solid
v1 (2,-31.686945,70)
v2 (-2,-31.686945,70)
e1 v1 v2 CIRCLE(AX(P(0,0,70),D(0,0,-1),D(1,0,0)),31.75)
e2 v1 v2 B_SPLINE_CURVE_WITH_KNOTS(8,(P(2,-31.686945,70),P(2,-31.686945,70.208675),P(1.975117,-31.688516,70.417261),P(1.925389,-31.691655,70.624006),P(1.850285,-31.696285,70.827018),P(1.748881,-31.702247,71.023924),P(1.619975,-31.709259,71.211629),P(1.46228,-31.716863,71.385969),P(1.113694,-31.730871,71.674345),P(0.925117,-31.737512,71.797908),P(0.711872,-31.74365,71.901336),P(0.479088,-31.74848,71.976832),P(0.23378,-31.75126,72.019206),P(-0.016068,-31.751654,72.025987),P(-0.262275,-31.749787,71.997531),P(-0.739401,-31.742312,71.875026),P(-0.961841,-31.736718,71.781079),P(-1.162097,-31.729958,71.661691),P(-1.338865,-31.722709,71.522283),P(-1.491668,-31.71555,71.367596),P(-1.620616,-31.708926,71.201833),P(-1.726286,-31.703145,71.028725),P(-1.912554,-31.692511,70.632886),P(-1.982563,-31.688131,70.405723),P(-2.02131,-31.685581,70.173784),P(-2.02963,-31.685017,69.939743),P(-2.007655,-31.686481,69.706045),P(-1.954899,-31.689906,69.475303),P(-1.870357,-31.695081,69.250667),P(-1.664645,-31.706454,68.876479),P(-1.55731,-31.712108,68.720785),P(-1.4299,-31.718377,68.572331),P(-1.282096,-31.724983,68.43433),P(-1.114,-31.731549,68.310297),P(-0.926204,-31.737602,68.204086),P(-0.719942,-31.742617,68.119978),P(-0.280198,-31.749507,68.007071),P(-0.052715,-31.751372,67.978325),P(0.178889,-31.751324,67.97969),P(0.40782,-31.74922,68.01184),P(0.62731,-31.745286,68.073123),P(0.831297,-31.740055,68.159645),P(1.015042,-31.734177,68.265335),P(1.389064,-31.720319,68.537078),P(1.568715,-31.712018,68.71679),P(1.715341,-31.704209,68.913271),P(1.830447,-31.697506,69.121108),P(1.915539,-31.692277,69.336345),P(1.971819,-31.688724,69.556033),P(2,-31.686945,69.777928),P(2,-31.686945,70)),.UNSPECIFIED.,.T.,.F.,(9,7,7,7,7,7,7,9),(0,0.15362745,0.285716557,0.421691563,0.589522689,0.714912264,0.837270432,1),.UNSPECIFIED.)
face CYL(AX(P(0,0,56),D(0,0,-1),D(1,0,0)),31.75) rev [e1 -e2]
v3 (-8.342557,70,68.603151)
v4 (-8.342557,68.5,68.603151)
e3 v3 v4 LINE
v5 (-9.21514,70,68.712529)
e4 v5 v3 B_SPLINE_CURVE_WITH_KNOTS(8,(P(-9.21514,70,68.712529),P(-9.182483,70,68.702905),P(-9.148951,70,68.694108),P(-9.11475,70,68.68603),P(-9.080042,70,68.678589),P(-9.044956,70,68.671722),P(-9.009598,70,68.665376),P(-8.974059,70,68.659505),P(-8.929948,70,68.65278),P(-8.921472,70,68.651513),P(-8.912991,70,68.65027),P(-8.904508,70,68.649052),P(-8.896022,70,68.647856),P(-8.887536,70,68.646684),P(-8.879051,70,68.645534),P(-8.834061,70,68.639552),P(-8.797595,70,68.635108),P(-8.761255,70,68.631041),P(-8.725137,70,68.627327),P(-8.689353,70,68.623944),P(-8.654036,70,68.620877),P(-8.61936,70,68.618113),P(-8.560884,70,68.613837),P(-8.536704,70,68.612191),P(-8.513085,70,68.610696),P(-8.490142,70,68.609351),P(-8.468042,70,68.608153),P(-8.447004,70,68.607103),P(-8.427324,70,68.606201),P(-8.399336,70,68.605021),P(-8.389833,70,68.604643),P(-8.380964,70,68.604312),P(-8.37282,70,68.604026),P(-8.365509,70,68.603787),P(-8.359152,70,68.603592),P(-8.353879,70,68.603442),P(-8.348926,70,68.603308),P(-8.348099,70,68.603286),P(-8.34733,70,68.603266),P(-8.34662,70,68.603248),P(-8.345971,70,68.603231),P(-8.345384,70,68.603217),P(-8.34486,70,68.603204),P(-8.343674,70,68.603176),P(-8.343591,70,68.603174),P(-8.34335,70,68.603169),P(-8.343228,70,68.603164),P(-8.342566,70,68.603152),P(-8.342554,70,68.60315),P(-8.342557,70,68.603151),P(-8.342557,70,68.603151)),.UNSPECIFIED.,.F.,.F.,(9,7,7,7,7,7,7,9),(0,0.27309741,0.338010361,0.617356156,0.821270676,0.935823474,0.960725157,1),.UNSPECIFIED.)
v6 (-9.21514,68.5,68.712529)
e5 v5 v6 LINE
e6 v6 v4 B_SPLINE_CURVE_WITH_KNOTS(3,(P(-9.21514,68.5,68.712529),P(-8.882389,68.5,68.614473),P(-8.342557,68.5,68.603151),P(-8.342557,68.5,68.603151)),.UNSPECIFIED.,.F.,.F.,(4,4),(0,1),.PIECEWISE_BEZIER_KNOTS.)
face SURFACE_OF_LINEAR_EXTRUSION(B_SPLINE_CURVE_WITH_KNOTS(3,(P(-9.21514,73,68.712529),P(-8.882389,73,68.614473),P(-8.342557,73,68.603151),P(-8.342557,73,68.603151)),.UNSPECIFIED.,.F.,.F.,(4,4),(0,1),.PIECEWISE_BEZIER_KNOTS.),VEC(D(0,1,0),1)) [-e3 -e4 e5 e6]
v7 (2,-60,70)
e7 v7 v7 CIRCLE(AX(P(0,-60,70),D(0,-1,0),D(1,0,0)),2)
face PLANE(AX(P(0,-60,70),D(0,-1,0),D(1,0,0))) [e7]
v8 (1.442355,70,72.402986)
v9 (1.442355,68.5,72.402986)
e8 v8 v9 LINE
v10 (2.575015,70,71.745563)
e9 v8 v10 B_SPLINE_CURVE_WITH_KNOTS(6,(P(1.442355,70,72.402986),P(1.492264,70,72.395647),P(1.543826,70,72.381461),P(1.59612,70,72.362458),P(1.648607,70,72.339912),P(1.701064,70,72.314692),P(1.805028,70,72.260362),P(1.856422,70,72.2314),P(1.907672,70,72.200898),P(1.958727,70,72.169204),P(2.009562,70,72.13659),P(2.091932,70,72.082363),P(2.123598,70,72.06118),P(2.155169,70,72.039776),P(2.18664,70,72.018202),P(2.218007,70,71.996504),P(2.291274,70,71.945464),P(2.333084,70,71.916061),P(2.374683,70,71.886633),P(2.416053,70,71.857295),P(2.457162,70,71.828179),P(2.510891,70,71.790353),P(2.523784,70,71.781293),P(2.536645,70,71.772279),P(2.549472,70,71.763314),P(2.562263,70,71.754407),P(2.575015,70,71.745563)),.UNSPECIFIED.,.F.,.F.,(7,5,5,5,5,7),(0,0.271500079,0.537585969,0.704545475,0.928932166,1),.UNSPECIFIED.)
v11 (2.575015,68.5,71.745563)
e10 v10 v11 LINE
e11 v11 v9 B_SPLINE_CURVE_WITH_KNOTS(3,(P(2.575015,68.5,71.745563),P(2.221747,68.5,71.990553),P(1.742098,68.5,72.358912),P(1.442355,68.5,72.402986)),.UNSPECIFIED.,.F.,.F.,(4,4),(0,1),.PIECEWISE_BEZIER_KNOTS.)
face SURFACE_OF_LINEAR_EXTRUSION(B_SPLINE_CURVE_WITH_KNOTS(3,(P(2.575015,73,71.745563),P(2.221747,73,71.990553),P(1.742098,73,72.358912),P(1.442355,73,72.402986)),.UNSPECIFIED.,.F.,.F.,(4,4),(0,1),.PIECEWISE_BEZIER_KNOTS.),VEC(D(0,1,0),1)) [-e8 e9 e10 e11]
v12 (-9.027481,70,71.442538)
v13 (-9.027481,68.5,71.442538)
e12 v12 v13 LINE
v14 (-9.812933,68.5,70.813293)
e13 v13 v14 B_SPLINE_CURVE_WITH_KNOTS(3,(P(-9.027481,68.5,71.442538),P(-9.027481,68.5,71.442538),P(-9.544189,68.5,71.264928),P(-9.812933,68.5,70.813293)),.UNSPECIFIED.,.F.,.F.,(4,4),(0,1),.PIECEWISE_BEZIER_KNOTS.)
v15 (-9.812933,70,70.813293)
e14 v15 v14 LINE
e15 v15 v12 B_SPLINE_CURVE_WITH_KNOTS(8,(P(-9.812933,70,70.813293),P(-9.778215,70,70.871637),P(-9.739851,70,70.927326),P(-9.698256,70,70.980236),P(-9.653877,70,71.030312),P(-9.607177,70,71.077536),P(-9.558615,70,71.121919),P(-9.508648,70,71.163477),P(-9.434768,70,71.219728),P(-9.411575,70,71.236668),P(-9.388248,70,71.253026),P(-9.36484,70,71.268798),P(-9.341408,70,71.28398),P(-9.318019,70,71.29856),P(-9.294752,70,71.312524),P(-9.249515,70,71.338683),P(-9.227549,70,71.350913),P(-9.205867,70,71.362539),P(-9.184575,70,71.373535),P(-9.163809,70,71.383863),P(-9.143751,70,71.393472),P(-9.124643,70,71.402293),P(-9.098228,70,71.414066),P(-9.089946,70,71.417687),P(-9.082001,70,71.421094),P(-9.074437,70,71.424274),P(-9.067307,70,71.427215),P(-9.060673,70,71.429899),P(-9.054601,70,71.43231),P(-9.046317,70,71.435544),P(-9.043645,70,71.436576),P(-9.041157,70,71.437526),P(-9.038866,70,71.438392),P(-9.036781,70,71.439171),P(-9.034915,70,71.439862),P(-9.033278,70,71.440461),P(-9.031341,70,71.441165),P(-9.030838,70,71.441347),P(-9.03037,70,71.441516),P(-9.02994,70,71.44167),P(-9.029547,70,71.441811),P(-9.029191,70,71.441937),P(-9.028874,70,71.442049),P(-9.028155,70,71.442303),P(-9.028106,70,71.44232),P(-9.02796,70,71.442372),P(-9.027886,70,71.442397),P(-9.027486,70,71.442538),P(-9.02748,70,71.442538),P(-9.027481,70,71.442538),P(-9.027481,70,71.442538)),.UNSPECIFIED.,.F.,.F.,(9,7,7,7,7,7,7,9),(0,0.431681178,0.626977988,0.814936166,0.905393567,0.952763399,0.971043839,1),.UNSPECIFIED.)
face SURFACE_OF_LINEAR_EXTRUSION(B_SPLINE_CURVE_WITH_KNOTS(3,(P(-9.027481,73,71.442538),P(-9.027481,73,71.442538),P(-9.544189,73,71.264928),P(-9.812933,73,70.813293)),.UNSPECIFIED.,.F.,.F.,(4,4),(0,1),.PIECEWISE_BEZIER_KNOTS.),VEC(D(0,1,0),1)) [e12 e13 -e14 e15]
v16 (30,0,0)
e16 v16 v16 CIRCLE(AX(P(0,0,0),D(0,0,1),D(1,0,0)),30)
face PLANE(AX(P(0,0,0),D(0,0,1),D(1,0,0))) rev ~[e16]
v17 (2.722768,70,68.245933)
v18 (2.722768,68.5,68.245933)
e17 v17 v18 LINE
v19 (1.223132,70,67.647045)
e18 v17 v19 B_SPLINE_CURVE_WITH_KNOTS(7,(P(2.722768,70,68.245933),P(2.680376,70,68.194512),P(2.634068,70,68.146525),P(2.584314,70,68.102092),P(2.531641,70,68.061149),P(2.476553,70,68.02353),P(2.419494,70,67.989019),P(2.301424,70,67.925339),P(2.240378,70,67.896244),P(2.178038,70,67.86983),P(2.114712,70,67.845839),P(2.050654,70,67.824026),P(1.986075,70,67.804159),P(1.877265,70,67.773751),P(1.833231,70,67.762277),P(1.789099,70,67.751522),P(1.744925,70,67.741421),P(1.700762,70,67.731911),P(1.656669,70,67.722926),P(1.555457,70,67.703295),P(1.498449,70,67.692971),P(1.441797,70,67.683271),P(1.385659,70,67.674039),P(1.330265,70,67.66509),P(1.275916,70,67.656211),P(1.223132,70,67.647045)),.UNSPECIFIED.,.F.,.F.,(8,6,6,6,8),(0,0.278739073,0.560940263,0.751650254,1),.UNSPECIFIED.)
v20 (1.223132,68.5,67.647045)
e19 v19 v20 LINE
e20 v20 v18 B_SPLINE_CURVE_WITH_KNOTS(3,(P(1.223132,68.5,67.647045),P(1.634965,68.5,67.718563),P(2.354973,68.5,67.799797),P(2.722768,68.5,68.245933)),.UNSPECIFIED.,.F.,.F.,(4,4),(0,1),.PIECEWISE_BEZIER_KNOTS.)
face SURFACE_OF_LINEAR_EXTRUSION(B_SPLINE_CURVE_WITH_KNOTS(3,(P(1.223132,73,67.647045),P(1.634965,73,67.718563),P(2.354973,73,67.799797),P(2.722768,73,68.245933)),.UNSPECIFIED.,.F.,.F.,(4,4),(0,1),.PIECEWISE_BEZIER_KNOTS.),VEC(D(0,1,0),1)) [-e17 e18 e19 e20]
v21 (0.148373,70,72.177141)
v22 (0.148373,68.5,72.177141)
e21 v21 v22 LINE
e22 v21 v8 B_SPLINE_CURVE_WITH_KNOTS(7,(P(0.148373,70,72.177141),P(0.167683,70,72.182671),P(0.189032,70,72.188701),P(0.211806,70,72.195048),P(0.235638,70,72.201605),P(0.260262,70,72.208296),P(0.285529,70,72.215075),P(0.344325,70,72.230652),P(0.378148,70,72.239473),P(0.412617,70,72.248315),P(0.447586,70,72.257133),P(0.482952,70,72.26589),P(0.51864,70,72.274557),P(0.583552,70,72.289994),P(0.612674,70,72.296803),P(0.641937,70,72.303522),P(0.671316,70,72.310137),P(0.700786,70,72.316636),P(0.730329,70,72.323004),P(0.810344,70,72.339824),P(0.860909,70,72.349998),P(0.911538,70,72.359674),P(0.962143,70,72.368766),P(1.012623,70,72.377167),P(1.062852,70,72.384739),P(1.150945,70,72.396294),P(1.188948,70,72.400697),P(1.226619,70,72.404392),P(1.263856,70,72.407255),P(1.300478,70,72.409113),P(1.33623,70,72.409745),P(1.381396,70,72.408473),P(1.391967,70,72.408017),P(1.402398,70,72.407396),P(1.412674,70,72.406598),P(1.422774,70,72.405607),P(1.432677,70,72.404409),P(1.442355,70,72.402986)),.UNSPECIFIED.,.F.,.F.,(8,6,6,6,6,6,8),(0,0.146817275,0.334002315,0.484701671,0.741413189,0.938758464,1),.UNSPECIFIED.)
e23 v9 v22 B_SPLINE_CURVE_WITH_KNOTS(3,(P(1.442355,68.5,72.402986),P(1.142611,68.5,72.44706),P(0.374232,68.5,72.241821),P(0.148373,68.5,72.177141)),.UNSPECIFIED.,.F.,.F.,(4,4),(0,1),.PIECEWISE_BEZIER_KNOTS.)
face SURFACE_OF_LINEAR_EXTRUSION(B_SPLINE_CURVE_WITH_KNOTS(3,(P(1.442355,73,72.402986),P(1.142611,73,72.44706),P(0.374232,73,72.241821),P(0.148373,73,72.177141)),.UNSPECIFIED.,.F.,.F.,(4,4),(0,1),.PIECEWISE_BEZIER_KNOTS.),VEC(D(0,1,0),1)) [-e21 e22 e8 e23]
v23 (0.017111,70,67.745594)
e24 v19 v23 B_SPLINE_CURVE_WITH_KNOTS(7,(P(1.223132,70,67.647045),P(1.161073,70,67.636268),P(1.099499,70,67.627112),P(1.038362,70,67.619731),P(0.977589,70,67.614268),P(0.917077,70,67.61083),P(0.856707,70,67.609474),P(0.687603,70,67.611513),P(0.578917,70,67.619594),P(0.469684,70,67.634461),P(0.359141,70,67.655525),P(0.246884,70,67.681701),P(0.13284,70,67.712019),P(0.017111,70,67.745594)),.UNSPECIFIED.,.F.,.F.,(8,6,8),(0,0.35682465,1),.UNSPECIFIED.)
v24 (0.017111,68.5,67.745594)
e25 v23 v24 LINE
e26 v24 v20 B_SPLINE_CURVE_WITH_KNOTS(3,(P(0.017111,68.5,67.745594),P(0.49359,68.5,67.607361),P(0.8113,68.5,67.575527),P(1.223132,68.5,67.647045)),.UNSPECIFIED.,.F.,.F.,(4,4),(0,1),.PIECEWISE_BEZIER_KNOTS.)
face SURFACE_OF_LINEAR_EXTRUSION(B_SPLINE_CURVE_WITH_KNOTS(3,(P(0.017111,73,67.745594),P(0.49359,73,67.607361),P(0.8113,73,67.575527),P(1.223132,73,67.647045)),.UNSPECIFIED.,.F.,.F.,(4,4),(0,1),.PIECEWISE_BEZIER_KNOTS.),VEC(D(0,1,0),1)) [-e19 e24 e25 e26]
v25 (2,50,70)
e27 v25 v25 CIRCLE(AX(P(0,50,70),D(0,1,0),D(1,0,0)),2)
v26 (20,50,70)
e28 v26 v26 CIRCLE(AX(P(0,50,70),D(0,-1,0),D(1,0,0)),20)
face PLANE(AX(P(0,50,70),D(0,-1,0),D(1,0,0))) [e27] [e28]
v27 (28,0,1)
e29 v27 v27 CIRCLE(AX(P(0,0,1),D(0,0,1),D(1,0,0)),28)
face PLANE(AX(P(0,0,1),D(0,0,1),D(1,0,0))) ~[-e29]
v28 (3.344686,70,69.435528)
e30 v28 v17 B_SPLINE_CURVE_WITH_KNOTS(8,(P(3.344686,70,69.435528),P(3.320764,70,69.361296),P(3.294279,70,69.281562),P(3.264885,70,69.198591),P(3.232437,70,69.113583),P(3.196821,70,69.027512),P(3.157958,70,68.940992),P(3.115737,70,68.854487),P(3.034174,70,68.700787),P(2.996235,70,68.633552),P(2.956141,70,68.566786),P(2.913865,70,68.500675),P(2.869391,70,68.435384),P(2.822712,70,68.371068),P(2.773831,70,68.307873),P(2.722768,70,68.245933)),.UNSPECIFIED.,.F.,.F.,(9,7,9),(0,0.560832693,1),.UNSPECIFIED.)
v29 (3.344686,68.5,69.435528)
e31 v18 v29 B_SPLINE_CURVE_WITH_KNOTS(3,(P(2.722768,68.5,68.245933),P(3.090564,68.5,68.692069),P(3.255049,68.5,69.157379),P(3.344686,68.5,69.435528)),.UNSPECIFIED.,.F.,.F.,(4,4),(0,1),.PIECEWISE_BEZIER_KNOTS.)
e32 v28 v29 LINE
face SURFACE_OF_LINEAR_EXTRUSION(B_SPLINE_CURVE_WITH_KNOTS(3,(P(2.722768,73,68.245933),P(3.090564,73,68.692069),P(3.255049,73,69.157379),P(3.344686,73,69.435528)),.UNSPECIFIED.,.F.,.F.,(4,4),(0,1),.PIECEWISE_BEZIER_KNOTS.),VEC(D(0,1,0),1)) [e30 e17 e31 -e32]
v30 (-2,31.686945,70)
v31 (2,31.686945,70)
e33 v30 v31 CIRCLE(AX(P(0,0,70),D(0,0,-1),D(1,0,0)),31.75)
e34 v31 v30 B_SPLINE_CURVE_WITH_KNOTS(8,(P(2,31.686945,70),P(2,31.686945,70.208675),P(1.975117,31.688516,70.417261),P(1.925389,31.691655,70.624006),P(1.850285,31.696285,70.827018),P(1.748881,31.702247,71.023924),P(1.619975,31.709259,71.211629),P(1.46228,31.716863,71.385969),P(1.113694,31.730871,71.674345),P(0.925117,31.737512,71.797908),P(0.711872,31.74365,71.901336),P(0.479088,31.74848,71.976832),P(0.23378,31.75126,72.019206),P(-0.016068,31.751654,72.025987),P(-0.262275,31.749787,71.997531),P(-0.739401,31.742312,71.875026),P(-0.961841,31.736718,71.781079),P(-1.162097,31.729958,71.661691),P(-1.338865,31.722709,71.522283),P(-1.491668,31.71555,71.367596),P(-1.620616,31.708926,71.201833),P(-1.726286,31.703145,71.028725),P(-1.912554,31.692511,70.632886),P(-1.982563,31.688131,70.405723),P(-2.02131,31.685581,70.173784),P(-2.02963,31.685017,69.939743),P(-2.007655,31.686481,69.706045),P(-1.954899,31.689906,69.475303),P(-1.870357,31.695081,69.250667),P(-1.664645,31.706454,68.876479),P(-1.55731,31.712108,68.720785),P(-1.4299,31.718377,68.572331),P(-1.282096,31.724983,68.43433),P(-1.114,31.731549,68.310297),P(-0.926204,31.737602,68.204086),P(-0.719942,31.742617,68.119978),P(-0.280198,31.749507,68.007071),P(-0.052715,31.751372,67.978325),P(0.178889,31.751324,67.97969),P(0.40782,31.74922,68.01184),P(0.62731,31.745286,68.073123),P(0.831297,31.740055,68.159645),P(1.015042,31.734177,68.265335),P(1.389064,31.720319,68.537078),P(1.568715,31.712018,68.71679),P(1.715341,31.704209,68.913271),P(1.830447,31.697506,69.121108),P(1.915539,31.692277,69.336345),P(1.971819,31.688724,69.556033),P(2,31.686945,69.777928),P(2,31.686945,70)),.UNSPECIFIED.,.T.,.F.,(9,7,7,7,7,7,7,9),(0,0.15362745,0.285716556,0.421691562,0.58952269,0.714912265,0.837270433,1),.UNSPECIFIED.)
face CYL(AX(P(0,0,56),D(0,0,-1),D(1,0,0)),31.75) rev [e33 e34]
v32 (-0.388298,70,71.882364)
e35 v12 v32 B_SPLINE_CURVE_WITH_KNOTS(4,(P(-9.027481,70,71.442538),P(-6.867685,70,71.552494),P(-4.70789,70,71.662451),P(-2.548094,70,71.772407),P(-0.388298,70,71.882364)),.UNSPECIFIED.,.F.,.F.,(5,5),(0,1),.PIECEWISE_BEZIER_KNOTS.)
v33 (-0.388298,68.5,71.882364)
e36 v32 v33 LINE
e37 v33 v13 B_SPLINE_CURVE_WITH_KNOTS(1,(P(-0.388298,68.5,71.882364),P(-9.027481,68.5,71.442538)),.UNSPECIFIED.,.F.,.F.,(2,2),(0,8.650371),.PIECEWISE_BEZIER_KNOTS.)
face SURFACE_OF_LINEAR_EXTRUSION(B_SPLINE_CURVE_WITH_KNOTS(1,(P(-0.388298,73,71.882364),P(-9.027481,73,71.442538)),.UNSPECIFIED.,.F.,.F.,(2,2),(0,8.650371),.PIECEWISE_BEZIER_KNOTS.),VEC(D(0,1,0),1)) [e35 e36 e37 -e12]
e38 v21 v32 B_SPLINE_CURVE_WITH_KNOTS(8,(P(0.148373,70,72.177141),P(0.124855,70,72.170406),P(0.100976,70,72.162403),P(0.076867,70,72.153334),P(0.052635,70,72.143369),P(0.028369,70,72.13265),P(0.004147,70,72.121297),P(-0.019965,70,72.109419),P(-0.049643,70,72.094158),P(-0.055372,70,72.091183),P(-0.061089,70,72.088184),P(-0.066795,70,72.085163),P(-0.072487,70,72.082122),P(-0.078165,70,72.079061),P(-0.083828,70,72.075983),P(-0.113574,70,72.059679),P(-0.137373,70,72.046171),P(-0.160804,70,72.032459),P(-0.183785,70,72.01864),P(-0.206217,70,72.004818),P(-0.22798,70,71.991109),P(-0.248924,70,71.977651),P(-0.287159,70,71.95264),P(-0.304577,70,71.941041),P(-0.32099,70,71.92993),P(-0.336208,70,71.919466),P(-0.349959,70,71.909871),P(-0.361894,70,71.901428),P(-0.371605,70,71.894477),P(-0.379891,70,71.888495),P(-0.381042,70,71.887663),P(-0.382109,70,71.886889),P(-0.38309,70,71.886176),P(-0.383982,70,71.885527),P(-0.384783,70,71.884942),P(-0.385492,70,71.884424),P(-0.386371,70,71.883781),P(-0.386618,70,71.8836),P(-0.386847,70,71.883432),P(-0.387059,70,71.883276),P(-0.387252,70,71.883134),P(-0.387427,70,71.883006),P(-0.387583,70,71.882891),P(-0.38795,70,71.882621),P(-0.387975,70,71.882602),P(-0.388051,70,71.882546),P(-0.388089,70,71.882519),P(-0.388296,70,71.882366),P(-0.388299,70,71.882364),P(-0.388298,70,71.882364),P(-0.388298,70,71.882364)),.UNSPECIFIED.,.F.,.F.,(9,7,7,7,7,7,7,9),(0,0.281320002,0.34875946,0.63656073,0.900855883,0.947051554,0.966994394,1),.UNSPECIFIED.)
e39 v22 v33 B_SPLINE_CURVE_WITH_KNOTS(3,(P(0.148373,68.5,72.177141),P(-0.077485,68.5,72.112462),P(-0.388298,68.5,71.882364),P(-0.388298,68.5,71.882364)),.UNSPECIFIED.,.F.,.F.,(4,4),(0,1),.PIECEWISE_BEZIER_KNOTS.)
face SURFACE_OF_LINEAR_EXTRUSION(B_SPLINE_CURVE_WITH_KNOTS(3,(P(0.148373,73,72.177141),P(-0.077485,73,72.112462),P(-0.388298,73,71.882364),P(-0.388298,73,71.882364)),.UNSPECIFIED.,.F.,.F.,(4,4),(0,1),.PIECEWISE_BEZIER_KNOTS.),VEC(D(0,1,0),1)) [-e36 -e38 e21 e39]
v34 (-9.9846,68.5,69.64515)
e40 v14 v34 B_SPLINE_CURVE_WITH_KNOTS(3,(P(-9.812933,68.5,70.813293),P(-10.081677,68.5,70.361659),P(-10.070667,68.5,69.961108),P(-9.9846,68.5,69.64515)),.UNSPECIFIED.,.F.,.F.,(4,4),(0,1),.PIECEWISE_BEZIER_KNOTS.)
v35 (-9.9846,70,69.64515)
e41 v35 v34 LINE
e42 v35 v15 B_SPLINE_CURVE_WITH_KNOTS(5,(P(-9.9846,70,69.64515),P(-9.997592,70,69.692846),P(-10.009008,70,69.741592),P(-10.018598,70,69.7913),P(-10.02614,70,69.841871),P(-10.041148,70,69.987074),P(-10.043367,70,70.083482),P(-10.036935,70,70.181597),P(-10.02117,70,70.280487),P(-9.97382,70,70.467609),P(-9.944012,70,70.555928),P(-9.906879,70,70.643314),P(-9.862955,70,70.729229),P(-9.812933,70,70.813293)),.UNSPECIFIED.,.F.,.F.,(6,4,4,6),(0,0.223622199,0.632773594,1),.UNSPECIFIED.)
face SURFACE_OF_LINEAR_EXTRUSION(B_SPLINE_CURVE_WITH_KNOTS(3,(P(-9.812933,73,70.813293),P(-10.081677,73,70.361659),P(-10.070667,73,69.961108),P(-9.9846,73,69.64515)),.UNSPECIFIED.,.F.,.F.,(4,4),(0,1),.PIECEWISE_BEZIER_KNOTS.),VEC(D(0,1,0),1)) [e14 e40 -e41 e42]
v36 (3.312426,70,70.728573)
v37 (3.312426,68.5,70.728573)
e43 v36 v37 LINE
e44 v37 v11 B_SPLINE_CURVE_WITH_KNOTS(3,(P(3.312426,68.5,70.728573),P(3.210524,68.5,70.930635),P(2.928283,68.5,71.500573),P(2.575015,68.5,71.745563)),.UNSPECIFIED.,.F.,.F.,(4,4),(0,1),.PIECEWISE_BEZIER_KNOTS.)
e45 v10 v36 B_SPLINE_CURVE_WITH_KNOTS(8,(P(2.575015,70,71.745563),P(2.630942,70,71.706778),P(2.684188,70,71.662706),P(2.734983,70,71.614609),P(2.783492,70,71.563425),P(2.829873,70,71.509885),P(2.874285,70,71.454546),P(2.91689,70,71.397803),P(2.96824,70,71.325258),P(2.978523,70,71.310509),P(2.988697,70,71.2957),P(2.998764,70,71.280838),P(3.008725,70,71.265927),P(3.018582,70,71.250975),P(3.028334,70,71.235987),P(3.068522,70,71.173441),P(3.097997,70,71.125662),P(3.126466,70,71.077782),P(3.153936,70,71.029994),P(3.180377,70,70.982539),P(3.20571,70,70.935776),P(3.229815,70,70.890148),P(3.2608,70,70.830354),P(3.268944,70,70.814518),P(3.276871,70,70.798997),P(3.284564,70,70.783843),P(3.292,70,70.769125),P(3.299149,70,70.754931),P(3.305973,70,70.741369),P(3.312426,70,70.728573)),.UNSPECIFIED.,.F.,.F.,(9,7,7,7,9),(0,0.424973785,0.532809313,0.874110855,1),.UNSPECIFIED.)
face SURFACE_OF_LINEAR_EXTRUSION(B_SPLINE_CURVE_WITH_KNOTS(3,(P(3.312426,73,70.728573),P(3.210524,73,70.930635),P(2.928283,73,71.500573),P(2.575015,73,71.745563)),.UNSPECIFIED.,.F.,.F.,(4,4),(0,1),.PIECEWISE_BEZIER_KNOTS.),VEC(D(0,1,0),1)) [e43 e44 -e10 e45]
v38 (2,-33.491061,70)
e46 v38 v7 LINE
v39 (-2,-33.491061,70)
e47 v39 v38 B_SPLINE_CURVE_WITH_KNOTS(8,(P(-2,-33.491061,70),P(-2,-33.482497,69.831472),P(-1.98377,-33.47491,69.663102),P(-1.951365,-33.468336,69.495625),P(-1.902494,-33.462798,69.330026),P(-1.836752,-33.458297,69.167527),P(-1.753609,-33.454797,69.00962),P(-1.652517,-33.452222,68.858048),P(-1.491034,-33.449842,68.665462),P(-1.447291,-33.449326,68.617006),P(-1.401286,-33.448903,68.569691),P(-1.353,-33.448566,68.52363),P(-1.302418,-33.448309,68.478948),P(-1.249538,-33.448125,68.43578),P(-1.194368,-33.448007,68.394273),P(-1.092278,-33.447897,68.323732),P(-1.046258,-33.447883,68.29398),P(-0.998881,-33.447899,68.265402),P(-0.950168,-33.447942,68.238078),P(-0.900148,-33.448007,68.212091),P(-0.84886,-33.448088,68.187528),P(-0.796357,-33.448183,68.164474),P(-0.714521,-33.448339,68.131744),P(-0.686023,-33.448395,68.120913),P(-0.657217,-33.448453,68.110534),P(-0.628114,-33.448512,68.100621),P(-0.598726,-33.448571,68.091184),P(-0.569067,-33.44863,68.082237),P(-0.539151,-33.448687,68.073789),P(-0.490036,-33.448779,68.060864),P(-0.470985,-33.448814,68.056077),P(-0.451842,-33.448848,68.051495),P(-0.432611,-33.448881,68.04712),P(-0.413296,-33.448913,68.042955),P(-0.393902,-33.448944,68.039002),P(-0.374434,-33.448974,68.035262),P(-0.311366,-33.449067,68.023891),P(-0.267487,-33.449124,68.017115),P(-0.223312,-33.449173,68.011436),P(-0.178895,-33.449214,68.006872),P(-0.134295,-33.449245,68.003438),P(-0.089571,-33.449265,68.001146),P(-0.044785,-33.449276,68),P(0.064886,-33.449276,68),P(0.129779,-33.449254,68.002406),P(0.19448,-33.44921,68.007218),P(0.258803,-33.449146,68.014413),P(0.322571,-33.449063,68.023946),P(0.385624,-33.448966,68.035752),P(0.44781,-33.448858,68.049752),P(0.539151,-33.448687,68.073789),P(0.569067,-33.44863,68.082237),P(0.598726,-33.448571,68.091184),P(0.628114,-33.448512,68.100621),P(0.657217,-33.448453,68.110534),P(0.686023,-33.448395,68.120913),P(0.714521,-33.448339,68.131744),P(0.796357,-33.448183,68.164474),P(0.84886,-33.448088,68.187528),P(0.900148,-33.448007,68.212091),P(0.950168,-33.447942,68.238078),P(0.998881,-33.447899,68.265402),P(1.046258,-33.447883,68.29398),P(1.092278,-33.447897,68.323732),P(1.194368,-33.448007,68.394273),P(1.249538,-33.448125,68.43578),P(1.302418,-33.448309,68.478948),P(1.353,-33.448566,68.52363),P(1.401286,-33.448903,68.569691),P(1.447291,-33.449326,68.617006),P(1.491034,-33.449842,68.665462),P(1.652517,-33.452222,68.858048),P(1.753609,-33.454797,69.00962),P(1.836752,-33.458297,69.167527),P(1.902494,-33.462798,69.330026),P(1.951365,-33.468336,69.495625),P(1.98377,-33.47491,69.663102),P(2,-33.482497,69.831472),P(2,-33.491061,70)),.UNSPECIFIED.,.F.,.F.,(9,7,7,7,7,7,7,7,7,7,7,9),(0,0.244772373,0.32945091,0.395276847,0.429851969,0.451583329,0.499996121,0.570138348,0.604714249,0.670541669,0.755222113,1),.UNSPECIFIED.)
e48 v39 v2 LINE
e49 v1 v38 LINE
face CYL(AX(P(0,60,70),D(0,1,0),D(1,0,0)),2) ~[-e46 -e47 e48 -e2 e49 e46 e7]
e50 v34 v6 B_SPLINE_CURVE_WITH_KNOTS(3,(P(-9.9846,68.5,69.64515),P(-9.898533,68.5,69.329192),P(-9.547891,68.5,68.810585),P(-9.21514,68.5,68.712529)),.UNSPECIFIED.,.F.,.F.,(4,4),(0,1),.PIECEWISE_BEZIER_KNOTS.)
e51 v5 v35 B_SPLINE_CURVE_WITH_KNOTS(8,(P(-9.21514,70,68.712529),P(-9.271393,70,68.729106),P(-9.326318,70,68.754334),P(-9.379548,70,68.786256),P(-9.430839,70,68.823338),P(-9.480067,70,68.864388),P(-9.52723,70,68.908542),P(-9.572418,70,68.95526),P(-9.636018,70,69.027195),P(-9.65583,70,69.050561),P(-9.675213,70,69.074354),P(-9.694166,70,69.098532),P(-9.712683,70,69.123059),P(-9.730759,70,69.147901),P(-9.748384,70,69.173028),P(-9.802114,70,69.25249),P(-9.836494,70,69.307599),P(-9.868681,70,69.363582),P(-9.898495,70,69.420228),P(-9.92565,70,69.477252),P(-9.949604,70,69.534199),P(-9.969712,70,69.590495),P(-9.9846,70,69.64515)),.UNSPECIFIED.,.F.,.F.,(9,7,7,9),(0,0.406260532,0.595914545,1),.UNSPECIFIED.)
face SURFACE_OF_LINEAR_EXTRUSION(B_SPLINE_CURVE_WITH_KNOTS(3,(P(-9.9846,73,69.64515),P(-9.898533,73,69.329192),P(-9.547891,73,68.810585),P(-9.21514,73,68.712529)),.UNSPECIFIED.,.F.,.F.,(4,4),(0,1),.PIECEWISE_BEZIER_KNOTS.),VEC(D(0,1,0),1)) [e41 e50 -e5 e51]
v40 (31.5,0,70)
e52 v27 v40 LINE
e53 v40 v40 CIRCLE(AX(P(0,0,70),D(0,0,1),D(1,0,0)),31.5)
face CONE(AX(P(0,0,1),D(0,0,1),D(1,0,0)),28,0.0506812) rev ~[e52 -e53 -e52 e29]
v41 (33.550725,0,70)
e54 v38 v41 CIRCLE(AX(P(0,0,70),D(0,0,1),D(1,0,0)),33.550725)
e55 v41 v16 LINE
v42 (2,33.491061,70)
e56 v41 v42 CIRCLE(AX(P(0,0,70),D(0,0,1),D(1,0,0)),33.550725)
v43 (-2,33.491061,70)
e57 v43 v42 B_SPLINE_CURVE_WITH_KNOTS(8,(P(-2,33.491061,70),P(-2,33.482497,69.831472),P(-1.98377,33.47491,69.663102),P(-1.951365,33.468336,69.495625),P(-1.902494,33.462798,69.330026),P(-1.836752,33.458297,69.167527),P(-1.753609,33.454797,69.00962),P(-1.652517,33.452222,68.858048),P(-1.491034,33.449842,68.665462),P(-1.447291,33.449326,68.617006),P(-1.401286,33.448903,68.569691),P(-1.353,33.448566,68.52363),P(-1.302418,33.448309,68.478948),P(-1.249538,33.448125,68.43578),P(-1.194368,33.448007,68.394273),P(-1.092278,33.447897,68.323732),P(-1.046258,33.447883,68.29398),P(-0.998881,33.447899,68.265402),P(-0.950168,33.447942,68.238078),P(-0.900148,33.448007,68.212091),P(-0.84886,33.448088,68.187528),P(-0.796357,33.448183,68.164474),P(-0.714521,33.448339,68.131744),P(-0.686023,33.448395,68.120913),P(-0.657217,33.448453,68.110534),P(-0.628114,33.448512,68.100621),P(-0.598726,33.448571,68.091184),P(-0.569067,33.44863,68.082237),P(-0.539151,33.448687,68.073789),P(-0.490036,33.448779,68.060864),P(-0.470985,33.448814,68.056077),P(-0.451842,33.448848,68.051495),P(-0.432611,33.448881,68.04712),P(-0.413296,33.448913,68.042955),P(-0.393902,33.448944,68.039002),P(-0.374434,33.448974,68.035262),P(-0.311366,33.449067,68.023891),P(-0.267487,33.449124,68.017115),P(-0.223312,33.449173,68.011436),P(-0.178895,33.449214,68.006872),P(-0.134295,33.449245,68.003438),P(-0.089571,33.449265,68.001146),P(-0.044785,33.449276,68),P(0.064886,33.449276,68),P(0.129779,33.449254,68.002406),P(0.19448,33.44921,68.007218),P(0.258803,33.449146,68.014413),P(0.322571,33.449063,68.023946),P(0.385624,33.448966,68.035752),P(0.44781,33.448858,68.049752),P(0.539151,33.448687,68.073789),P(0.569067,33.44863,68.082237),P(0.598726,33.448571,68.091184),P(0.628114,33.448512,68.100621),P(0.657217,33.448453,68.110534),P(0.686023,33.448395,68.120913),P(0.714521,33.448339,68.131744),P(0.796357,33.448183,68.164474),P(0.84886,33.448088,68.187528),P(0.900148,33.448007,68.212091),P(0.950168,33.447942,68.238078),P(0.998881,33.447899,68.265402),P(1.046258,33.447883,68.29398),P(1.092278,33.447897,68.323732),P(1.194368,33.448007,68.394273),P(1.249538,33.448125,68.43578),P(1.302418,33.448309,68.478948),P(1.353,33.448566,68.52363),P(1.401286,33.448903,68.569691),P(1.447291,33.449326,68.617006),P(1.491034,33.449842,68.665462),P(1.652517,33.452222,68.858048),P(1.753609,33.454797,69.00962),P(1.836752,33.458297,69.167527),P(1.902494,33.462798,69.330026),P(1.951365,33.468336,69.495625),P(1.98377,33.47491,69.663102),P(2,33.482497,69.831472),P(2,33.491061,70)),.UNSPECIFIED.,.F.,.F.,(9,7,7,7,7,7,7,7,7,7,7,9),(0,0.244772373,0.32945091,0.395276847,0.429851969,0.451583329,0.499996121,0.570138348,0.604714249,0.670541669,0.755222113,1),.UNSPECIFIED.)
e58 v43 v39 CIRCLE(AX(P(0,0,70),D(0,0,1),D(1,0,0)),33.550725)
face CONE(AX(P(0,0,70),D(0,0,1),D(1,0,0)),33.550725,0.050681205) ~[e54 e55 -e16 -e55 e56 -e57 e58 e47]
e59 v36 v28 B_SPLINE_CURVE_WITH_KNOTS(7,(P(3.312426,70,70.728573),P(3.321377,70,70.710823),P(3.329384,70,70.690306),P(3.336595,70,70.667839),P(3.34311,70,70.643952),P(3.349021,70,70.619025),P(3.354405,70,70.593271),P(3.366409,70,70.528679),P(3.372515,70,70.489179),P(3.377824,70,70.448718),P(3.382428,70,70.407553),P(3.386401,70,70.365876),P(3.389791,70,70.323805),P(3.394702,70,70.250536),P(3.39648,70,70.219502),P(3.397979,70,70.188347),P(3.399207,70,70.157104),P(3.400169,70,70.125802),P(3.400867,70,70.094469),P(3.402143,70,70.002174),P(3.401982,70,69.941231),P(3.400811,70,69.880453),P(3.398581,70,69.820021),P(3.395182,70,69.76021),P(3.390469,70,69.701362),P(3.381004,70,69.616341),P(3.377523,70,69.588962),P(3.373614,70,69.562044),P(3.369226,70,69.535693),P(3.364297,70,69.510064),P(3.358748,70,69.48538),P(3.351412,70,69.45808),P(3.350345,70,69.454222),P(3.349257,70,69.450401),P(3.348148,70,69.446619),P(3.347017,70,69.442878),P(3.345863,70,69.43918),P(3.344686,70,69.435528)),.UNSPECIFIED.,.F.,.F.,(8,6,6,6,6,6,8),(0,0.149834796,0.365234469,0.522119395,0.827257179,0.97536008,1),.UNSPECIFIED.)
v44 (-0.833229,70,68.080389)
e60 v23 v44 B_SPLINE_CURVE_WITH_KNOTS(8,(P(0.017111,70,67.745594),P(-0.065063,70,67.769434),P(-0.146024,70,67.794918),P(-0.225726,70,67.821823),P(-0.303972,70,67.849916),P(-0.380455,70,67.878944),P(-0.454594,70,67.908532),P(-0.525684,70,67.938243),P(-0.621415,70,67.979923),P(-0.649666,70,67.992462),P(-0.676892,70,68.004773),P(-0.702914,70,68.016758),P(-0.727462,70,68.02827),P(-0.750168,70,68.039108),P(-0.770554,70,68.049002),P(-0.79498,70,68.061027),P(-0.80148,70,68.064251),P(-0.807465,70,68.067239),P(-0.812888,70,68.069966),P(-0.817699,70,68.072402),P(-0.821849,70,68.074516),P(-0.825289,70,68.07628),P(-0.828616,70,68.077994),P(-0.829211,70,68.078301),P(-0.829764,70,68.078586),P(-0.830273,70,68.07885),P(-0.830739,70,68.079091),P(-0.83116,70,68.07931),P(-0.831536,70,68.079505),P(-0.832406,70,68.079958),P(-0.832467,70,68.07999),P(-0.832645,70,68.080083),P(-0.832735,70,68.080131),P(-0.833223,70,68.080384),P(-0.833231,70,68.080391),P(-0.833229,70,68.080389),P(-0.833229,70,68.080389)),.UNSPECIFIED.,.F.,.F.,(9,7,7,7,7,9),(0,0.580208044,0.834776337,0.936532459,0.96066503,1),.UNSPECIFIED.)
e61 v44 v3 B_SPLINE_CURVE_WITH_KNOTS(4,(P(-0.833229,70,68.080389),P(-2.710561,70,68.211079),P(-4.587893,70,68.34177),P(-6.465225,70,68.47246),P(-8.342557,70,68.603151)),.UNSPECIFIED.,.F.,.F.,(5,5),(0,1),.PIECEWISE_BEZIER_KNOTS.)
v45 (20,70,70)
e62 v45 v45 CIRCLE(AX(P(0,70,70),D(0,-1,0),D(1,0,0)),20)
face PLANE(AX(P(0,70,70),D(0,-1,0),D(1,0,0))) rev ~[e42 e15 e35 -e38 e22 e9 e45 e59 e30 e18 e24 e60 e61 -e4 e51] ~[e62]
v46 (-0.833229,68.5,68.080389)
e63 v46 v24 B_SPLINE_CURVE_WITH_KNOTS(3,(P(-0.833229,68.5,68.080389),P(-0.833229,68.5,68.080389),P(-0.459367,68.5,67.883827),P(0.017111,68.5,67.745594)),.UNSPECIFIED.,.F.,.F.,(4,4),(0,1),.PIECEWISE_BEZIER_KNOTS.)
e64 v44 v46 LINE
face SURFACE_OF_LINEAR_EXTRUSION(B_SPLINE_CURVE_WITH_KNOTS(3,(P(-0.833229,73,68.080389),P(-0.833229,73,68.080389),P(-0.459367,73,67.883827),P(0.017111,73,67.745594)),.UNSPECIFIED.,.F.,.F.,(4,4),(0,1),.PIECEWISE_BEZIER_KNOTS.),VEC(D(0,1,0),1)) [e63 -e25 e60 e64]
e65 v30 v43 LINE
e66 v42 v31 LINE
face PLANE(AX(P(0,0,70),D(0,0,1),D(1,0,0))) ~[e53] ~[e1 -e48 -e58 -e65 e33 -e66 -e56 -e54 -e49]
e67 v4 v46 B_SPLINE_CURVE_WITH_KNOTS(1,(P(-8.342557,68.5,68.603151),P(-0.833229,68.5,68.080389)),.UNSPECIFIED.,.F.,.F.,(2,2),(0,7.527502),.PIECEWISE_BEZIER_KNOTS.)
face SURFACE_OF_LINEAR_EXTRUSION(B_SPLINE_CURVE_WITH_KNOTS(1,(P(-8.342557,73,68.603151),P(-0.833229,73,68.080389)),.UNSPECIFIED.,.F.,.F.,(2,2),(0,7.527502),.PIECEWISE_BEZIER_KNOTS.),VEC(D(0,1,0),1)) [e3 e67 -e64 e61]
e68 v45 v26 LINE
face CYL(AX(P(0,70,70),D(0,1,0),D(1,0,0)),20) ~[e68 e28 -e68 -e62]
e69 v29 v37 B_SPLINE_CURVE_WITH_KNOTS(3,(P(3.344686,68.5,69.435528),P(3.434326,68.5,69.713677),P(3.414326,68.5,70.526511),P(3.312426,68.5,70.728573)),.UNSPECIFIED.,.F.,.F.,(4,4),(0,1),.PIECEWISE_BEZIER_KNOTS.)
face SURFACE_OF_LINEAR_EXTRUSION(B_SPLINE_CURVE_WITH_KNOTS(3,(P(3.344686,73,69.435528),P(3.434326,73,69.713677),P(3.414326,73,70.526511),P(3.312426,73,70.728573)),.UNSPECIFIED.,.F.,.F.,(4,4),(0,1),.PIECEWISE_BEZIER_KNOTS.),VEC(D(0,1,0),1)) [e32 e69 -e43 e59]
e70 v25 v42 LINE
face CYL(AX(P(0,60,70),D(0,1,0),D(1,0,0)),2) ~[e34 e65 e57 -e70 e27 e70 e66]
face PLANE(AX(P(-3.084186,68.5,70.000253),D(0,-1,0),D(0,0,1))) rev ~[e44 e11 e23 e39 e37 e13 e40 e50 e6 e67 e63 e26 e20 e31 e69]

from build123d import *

# Parameters (mm, degrees)
EXTRUDE_DEPTH           = 4.5
EXTRUDE_PLACEMENT_ANGLE = 90
CYLINDER004_R           = 31.75
CYLINDER004_DEPTH       = 30
CYLINDER003_R           = 2
CYLINDER003_DEPTH       = 120
CYLINDER005_R           = 20
CYLINDER005_DEPTH       = 20


with BuildPart() as corona_servo:
    # path2399 → Extrude (new body)
    with BuildSketch(Plane(origin=(8.682374, -4.98127, 0), x_dir=(0, 1, 0), z_dir=(0, 0, 1))):
        with BuildLine():
            add(Edge.make_bspline(
                [(-1.415579, 5.024931), (-1.938341, -2.484397)],
                knots=[0, 0, 7.527502, 7.527502], degree=1))
            add(Edge.make_bspline(
                [(-1.938341, -2.484397), (-1.938341, -2.484397), (-2.134903, -2.858259), (-2.273136, -3.334737)],
                knots=[0, 0, 0, 0, 1, 1, 1, 1], degree=3))
            add(Edge.make_bspline(
                [(-2.273136, -3.334737), (-2.411369, -3.811216), (-2.443203, -4.128926), (-2.371685, -4.540758)],
                knots=[0, 0, 0, 0, 1, 1, 1, 1], degree=3))
            add(Edge.make_bspline(
                [(-2.371685, -4.540758), (-2.300167, -4.952591), (-2.218933, -5.672599), (-1.772797, -6.040394)],
                knots=[0, 0, 0, 0, 1, 1, 1, 1], degree=3))
            add(Edge.make_bspline(
                [(-1.772797, -6.040394), (-1.326661, -6.40819), (-0.861351, -6.572675), (-0.583202, -6.662312)],
                knots=[0, 0, 0, 0, 1, 1, 1, 1], degree=3))
            add(Edge.make_bspline(
                [(-0.583202, -6.662312), (-0.305053, -6.751952), (0.507781, -6.731952), (0.709843, -6.630052)],
                knots=[0, 0, 0, 0, 1, 1, 1, 1], degree=3))
            add(Edge.make_bspline(
                [(0.709843, -6.630052), (0.911905, -6.52815), (1.481843, -6.245909), (1.726833, -5.892641)],
                knots=[0, 0, 0, 0, 1, 1, 1, 1], degree=3))
            add(Edge.make_bspline(
                [(1.726833, -5.892641), (1.971823, -5.539373), (2.340182, -5.059724), (2.384256, -4.759981)],
                knots=[0, 0, 0, 0, 1, 1, 1, 1], degree=3))
            add(Edge.make_bspline(
                [(2.384256, -4.759981), (2.42833, -4.460237), (2.223091, -3.691858), (2.158411, -3.465999)],
                knots=[0, 0, 0, 0, 1, 1, 1, 1], degree=3))
            add(Edge.make_bspline(
                [(2.158411, -3.465999), (2.093732, -3.240141), (1.863634, -2.929328), (1.863634, -2.929328)],
                knots=[0, 0, 0, 0, 1, 1, 1, 1], degree=3))
            add(Edge.make_bspline(
                [(1.863634, -2.929328), (1.423808, 5.709855)],
                knots=[0, 0, 8.650371, 8.650371], degree=1))
            add(Edge.make_bspline(
                [(1.423808, 5.709855), (1.423808, 5.709855), (1.246198, 6.226563), (0.794563, 6.495307)],
                knots=[0, 0, 0, 0, 1, 1, 1, 1], degree=3))
            add(Edge.make_bspline(
                [(0.794563, 6.495307), (0.342929, 6.764051), (-0.057622, 6.753041), (-0.37358, 6.666974)],
                knots=[0, 0, 0, 0, 1, 1, 1, 1], degree=3))
            add(Edge.make_bspline(
                [(-0.37358, 6.666974), (-0.689538, 6.580907), (-1.208145, 6.230265), (-1.306201, 5.897514)],
                knots=[0, 0, 0, 0, 1, 1, 1, 1], degree=3))
            add(Edge.make_bspline(
                [(-1.306201, 5.897514), (-1.404257, 5.564763), (-1.415579, 5.024931), (-1.415579, 5.024931)],
                knots=[0, 0, 0, 0, 1, 1, 1, 1], degree=3))
        make_face()
    extrude(amount=EXTRUDE_DEPTH)


with BuildPart() as corona_servo_1:
    # Extrude placement: moved
    add(corona_servo.part.moved(Location((-12, 73, 75))).rotate(Axis((-12, 73, 75), (1, 0, 0)), EXTRUDE_PLACEMENT_ANGLE))


with BuildPart() as vaso:
    # Sketch → Revolution (revolve)
    with BuildSketch(Plane.XZ):
        Polygon((0, 1), (28, 1), (31.5, 70), (33.550725, 70), (30, 0), (0, 0), align=None)
    revolve(axis=Axis((0, 0, 0), (0, 0, 1)))


with BuildPart() as cylinder004:
    # Cylinder004 → Cylinder004 (new body)
    with BuildSketch(Plane.XY.offset(56)):
        Circle(CYLINDER004_R)
    extrude(amount=CYLINDER004_DEPTH)


with BuildPart() as cut001:
    # Cylinder003 → Cylinder003 (new body)
    with BuildSketch(Plane(origin=(0, 60, 70), x_dir=(1, 0, 0), z_dir=(0, -1, 0))):
        Circle(CYLINDER003_R)
    extrude(amount=CYLINDER003_DEPTH)

    # Cut001: cut Cylinder004
    add(cylinder004.part, mode=Mode.SUBTRACT)


with BuildPart() as cut:
    # Cylinder005 → Cylinder005 (new body)
    with BuildSketch(Plane(origin=(0, 70, 70), x_dir=(1, 0, 0), z_dir=(0, -1, 0))):
        Circle(CYLINDER005_R)
    extrude(amount=CYLINDER005_DEPTH)

    # Fusion: union Cut001
    add(cut001.part)

    # Fusion001: union vaso
    add(vaso.part)

    # Cut: cut corona_servo
    add(corona_servo_1.part, mode=Mode.SUBTRACT)


solid = cut.part
